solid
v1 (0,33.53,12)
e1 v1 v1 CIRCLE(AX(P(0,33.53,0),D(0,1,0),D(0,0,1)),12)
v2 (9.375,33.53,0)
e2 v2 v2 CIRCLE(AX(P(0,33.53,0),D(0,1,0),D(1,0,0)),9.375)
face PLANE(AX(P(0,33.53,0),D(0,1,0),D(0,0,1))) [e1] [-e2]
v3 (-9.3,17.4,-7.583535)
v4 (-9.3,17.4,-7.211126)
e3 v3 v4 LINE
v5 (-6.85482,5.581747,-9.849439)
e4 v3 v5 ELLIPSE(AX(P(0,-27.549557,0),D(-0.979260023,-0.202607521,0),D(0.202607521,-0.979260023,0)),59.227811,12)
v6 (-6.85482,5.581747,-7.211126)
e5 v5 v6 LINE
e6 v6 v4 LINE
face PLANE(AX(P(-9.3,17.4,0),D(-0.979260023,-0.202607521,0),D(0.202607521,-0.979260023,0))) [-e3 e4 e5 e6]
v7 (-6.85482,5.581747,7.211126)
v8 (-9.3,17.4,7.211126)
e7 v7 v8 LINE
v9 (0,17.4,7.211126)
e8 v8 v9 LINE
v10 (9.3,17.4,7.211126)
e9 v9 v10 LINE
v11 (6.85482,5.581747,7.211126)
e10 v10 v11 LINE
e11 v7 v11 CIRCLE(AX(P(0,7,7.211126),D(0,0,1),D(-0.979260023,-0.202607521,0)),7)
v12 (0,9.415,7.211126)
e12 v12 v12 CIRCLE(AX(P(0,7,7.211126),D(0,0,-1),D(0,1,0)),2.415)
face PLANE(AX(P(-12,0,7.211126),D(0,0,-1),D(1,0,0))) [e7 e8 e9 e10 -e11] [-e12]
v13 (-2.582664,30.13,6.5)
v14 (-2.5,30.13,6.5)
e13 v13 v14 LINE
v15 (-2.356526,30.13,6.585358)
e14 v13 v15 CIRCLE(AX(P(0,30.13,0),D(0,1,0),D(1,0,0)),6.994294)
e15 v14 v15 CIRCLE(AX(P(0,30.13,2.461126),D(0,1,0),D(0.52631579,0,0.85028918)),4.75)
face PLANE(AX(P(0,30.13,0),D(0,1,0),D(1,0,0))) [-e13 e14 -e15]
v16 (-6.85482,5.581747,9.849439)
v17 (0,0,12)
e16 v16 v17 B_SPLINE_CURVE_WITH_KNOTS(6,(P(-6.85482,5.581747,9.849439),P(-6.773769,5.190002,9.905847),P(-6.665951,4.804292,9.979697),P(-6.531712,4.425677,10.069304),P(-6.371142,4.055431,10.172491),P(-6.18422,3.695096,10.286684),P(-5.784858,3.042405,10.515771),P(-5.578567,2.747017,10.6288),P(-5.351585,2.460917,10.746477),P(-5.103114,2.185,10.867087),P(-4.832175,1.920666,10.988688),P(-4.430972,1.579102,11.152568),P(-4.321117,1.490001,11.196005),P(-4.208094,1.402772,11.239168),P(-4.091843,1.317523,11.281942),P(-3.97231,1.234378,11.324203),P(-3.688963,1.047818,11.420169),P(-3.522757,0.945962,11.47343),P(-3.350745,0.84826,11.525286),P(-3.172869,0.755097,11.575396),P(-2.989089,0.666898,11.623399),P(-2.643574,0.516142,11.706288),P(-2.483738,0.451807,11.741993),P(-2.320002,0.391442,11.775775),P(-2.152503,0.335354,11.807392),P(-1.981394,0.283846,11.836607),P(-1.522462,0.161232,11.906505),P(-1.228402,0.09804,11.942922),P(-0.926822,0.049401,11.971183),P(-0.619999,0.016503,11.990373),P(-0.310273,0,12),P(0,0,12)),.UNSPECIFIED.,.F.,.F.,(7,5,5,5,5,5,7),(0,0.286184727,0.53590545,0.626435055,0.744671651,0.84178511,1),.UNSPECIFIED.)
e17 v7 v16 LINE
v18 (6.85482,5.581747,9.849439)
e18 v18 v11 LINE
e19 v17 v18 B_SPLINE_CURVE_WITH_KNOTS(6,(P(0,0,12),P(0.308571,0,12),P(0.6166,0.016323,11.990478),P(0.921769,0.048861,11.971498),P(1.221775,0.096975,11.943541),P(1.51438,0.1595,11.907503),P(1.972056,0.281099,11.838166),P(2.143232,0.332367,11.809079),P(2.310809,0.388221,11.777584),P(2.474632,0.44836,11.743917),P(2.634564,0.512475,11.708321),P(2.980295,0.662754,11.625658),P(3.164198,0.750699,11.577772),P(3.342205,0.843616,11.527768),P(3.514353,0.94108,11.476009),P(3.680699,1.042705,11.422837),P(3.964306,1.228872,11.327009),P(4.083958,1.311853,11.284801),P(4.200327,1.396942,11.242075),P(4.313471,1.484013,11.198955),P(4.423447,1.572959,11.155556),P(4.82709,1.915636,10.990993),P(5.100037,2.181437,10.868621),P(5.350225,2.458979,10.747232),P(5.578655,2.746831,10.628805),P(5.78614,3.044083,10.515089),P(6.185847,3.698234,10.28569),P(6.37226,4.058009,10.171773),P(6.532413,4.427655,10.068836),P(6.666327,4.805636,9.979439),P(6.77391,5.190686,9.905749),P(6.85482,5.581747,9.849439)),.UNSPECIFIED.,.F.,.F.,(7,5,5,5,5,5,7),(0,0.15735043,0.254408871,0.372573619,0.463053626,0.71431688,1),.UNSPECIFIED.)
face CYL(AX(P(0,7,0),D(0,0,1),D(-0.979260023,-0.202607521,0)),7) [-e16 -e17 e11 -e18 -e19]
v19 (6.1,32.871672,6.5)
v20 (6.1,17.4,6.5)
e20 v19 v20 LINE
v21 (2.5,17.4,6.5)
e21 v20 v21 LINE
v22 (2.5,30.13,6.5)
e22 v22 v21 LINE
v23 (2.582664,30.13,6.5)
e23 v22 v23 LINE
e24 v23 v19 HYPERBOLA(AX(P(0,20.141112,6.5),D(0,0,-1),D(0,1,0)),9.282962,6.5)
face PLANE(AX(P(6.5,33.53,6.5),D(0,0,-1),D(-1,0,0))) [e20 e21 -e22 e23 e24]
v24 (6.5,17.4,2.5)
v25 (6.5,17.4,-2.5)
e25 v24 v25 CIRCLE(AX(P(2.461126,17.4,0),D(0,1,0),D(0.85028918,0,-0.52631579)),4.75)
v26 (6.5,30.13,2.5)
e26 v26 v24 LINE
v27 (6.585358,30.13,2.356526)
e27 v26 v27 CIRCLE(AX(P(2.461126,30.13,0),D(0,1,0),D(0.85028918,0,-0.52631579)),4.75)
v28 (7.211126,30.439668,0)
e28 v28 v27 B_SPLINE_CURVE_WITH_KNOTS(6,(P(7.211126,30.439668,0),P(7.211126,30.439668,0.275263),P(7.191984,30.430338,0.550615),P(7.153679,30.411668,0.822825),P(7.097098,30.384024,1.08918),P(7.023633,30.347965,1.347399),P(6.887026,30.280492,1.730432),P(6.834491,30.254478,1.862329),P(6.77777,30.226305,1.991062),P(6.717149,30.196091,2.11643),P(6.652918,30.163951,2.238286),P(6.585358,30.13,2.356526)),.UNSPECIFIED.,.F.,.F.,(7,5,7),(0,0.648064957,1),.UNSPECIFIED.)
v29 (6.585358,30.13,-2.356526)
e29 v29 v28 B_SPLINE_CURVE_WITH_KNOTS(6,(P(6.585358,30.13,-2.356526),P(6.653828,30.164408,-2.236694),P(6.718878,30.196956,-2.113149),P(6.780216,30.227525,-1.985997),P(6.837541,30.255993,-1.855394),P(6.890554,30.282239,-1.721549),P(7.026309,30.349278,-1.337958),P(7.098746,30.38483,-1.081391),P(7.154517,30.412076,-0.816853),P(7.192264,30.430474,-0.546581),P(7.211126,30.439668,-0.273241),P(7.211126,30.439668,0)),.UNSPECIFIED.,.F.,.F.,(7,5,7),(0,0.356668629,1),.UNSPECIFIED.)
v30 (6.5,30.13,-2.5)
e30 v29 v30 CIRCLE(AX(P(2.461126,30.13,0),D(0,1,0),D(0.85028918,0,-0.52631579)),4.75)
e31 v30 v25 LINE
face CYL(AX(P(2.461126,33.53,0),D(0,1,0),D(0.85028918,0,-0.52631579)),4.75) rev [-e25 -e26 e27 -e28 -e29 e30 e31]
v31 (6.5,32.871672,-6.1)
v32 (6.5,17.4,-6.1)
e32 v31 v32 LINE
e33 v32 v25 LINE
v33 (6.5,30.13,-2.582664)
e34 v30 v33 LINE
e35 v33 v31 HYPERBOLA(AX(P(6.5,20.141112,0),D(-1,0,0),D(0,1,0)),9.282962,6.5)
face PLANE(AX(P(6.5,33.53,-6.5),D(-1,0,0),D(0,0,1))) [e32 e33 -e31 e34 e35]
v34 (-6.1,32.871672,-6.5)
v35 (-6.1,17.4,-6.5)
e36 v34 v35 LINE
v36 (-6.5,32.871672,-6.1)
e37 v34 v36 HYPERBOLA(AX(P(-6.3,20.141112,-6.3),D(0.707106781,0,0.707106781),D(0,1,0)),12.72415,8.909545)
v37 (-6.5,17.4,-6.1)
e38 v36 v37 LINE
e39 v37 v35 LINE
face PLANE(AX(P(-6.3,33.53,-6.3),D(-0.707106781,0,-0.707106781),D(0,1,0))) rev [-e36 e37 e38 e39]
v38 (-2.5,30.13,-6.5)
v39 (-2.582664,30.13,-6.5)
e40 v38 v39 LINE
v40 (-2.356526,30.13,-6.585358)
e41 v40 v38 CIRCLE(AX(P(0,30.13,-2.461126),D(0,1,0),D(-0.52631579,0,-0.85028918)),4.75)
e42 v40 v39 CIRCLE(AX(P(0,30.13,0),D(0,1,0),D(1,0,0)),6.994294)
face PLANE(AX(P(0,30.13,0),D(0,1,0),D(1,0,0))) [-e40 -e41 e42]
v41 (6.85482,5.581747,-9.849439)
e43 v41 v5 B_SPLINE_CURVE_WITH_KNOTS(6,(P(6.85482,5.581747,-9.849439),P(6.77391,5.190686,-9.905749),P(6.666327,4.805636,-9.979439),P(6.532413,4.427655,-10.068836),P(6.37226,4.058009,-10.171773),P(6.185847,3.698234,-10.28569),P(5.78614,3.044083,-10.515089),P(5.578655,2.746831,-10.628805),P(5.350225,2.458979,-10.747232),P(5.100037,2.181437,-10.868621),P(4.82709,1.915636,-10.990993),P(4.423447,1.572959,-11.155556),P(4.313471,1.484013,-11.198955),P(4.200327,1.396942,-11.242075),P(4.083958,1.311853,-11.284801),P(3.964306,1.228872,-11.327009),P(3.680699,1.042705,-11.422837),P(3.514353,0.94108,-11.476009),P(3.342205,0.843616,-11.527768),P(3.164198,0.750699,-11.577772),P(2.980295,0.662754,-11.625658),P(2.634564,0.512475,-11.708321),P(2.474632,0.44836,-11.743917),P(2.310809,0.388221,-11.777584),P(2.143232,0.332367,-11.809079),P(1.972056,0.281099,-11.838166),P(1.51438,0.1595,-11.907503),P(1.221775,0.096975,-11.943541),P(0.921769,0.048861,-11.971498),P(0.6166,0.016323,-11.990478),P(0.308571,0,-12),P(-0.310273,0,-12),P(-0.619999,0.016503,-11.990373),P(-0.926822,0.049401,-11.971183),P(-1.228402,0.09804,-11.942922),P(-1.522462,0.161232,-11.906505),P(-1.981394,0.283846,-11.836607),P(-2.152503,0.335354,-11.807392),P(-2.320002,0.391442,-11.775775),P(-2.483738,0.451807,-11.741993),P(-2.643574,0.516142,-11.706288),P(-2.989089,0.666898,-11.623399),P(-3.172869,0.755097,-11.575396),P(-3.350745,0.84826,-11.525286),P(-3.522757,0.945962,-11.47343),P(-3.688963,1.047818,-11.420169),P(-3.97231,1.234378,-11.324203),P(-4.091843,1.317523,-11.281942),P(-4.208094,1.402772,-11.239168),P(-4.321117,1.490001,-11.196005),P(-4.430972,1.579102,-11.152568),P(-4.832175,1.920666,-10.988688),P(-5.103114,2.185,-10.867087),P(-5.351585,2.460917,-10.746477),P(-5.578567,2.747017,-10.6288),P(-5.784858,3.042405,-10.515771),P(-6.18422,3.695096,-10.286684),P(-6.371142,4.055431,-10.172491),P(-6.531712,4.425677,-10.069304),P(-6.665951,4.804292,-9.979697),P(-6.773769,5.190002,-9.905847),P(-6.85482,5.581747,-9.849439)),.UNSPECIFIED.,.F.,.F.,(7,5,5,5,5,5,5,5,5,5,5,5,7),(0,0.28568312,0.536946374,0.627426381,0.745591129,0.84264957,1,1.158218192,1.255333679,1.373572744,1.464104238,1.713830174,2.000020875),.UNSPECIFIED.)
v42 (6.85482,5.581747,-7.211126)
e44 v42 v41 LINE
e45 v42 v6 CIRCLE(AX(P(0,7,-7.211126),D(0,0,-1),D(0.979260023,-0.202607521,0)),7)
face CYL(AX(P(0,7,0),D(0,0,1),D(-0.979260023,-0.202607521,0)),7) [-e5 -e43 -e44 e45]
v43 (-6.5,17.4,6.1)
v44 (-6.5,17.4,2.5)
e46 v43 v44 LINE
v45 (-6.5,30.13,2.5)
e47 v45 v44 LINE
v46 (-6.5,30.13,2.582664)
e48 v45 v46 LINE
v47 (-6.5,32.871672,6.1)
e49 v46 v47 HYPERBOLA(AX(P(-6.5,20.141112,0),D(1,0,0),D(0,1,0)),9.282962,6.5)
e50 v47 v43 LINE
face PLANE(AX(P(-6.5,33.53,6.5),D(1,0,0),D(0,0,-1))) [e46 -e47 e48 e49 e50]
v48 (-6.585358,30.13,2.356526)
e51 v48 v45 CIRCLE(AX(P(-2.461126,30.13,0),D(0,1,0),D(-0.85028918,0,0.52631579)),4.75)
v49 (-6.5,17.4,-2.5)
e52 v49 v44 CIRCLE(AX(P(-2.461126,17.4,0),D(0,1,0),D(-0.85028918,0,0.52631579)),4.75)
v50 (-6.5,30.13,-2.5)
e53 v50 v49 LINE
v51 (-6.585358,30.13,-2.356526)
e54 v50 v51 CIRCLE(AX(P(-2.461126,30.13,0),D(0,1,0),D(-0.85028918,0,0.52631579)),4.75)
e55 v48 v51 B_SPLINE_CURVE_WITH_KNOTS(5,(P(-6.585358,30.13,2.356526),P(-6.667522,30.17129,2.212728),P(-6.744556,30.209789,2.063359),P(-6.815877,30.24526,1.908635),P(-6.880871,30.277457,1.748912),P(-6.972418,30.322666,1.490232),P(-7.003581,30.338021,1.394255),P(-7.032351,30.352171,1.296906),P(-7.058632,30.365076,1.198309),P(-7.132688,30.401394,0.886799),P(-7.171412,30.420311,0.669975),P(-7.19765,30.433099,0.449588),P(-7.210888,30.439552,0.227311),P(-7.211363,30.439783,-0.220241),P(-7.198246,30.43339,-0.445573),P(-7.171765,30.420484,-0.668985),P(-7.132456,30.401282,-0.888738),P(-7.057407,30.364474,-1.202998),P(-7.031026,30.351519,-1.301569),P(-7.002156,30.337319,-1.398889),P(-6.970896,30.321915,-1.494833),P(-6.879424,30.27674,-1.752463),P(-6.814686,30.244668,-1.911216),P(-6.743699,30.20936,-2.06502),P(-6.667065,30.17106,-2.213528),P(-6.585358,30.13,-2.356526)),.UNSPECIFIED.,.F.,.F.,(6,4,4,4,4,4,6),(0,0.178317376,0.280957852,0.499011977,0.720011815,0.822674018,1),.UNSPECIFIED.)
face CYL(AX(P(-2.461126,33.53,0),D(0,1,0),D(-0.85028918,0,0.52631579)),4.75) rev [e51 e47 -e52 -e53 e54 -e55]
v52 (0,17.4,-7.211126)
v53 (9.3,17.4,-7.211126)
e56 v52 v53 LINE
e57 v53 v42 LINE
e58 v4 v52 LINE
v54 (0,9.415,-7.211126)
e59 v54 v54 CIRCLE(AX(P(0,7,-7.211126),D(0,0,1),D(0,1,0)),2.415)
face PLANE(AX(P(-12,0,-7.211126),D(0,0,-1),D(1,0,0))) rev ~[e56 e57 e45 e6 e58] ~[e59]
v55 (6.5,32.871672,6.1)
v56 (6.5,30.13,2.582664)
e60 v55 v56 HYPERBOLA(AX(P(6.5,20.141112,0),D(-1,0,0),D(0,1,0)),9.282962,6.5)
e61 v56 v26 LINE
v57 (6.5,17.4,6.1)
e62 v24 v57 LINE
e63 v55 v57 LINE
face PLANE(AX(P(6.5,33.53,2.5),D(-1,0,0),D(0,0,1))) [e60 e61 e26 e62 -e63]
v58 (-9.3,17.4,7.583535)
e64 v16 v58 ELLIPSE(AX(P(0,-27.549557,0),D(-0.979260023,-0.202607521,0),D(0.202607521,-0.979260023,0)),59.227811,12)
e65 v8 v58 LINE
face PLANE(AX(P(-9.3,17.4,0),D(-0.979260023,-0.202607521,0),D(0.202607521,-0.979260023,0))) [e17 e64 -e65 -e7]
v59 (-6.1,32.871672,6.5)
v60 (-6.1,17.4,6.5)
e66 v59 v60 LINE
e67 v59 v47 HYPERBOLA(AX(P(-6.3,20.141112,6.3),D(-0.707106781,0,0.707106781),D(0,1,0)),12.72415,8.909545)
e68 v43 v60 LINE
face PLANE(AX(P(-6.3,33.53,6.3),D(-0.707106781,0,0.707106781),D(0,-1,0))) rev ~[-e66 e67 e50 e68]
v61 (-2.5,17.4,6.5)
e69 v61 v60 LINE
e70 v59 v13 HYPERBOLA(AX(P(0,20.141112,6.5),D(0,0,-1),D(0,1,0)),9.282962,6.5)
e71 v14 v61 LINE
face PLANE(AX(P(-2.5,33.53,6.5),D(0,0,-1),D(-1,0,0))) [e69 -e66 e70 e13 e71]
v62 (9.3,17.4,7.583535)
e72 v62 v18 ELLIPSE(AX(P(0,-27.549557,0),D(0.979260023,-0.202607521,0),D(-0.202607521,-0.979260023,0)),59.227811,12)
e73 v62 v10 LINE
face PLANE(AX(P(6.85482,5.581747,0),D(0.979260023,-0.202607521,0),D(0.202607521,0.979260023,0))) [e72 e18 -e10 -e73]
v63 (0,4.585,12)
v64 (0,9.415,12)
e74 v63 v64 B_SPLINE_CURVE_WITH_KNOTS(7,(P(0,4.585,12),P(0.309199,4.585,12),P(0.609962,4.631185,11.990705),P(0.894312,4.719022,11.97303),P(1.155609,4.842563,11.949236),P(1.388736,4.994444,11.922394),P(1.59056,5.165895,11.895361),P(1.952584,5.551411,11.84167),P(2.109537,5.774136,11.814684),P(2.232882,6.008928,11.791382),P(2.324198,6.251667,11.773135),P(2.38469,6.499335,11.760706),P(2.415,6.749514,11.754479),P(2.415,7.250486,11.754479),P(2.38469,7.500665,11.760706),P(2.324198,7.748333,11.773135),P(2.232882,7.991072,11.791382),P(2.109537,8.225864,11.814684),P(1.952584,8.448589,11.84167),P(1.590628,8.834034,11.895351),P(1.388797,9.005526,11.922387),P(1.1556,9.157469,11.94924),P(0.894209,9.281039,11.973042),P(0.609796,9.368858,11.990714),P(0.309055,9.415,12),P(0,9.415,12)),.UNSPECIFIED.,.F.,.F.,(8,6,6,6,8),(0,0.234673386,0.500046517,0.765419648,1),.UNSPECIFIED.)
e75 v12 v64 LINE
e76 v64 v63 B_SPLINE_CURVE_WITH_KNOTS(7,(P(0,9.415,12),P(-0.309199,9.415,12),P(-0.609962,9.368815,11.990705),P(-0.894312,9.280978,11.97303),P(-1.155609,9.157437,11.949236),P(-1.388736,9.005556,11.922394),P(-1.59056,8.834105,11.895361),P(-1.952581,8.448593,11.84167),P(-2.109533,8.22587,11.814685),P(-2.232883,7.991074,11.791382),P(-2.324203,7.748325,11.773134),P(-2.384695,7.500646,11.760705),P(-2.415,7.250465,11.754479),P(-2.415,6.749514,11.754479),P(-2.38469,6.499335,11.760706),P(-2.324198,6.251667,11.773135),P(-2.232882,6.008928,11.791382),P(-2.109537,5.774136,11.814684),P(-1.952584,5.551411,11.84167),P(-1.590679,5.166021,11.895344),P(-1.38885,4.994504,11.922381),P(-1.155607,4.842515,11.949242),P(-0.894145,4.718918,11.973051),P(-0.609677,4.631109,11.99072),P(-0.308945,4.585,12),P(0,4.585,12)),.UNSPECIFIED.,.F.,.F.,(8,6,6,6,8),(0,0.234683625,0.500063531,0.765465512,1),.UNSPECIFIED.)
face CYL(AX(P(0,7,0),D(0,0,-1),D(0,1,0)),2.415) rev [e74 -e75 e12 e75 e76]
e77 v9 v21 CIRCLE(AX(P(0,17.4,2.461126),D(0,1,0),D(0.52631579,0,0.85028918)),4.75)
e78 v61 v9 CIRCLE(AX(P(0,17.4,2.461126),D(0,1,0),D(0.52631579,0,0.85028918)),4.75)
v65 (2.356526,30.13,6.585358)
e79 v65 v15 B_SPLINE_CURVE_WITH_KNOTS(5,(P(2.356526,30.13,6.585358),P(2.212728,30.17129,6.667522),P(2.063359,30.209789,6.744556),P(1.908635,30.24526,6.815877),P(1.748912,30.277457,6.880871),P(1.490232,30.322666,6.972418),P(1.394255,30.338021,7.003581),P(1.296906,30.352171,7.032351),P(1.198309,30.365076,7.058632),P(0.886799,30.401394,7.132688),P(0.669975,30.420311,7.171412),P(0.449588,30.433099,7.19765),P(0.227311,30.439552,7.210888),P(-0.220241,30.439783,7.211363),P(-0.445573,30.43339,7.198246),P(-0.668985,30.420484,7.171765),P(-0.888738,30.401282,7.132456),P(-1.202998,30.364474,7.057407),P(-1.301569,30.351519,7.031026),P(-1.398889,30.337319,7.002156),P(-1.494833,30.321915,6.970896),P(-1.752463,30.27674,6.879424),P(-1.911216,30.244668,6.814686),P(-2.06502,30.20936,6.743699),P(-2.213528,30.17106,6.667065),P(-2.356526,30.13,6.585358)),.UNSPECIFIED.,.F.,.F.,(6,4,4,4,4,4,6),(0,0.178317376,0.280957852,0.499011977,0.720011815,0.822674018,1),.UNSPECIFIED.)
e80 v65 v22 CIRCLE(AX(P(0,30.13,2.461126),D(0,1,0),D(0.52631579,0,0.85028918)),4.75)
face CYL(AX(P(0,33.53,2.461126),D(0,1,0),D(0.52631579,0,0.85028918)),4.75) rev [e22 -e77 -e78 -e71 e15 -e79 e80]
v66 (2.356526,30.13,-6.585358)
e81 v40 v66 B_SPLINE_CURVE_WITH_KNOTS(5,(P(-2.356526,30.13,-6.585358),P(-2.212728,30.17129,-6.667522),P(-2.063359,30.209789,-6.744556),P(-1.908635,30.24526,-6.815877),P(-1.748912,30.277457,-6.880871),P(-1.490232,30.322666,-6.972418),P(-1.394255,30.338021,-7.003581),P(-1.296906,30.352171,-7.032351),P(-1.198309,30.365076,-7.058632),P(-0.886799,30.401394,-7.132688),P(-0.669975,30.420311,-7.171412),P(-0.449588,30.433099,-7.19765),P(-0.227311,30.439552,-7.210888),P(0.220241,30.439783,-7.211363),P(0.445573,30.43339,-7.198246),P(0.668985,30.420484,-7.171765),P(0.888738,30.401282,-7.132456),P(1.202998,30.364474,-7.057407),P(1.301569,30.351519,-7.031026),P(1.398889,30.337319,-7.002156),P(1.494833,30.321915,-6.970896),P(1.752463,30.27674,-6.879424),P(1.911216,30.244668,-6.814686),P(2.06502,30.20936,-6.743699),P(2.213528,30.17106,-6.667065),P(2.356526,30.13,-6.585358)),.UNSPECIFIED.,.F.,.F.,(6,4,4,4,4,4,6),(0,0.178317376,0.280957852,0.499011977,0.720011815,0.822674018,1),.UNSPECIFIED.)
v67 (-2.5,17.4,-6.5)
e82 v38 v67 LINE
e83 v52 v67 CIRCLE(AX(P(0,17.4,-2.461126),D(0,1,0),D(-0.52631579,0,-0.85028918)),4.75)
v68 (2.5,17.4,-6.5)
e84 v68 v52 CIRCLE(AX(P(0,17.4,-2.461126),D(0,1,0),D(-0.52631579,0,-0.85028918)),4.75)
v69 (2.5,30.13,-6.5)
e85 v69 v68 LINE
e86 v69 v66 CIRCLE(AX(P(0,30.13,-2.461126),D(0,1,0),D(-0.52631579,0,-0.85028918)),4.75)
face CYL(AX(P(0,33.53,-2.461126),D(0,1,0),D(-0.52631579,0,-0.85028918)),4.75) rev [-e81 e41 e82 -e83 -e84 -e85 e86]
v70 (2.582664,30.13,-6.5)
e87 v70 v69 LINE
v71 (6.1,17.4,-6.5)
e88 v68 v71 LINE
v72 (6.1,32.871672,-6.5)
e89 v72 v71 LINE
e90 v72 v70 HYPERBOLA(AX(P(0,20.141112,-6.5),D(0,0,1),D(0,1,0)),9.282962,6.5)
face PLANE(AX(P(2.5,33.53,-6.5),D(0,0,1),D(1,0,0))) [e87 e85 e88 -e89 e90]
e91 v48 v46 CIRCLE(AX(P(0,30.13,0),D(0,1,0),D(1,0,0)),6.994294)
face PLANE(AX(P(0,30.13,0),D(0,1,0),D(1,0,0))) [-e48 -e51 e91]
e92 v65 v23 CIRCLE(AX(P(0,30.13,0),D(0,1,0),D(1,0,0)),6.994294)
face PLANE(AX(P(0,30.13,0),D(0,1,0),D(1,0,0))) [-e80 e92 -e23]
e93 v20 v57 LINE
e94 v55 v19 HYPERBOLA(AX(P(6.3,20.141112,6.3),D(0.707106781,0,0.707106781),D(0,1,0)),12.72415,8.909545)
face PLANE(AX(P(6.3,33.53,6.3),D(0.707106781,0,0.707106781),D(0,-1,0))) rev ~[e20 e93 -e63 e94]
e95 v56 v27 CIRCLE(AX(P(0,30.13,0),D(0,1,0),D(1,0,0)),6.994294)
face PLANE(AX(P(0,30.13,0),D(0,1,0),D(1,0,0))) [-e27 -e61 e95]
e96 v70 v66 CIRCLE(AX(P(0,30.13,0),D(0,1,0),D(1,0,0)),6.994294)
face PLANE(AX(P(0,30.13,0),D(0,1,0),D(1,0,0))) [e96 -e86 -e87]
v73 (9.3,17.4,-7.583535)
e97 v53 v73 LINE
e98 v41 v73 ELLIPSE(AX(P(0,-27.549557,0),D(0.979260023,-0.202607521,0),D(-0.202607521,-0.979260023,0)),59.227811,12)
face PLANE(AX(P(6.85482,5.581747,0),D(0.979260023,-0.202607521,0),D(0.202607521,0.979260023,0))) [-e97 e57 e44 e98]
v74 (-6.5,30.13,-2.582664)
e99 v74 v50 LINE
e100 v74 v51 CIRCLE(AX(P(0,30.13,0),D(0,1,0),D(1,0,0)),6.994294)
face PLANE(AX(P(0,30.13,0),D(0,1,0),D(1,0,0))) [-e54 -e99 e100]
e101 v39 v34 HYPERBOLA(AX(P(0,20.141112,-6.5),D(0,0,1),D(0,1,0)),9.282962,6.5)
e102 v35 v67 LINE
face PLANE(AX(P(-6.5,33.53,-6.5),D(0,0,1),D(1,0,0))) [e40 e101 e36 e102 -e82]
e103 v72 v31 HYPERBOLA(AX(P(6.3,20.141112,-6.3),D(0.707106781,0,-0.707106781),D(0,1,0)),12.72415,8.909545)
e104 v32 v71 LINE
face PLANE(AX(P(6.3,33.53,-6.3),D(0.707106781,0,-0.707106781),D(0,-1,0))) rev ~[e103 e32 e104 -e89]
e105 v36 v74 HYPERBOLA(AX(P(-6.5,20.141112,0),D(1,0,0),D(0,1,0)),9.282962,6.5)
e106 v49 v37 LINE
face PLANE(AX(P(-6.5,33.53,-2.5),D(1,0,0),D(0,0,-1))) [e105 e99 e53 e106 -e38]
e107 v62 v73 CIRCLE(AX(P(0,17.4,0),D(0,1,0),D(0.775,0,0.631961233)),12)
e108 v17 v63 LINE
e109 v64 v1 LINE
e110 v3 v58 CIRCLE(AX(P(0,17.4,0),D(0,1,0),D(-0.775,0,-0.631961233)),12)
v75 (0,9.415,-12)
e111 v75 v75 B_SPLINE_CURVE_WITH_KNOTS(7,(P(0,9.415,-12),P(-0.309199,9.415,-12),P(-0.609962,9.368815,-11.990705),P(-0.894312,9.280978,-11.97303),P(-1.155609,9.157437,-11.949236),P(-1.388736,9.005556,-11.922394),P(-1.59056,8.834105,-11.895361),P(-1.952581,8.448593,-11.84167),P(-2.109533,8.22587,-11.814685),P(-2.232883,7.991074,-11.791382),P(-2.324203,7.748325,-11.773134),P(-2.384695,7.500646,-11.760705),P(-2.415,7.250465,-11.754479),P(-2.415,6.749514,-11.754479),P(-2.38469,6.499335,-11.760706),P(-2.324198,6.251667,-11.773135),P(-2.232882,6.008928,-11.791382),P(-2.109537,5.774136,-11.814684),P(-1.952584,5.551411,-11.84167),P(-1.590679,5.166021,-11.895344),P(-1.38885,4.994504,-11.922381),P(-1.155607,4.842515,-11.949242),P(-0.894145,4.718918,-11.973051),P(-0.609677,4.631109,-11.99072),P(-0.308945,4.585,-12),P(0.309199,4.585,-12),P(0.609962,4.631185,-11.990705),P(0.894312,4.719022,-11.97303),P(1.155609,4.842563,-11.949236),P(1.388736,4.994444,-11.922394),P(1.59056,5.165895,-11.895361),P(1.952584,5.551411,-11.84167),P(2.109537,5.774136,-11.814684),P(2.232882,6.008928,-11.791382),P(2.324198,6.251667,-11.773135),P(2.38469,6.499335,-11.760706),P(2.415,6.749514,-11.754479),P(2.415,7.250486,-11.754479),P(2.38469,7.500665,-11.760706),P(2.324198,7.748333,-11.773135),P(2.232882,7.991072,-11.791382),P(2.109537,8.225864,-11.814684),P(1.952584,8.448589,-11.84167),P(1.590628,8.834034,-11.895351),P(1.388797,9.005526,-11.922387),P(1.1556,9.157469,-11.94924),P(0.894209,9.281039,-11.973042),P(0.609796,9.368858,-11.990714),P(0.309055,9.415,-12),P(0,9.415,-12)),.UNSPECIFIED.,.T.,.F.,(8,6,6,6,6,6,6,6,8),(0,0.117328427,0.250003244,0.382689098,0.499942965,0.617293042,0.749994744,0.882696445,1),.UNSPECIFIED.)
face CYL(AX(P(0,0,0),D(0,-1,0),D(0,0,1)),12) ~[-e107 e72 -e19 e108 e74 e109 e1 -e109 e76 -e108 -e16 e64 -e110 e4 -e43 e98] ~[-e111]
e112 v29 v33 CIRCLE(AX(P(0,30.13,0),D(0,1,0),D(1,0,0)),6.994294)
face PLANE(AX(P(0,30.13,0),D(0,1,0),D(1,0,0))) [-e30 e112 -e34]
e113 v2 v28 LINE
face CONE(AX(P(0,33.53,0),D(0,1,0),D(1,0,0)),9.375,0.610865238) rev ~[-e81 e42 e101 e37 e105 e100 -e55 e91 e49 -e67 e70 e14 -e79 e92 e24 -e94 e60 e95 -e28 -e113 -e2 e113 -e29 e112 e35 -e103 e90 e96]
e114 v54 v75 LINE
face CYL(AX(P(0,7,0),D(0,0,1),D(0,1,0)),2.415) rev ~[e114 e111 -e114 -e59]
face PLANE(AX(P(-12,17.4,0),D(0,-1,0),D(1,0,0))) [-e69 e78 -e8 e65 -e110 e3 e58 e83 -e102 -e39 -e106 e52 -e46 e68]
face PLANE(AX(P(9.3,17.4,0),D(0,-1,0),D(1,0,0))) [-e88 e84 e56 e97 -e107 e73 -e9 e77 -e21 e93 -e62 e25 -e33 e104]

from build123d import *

# Parameters (mm, degrees)
SKETCH1_R           = 12
BOSS_EXTRUDE1_DEPTH = 33.53
CUT_EXTRUDE1_DEPTH  = 19.6
CHAMFER1_SIZE       = 0.4
SKETCH3_R           = 9.375
CUT_EXTRUDE2_DEPTH  = 3.4
CUT_EXTRUDE2_DRAFT  = -35
SKETCH4_W           = 24
SKETCH4_H           = 14.42225279
CUT_EXTRUDE3_DEPTH  = 17.4
SKETCH5_R           = 2.415
CUT_EXTRUDE4_DEPTH  = 33.7


with BuildPart() as part:
    # Sketch1 → Boss-Extrude1 (new body)
    with BuildSketch(Plane(origin=(0, 0, 0), x_dir=(1, 0, 0), z_dir=(0, 1, 0))):
        with Locations(Location((0, 0, 0), (0, 0, 270))):
            Circle(SKETCH1_R)
    extrude(amount=BOSS_EXTRUDE1_DEPTH)

    # Sketch2 → Cut-Extrude1 (cut)
    with BuildSketch(Plane(origin=(0, 33.53, 0), x_dir=(1, 0, 0), z_dir=(0, 1, 0))):
        with BuildLine():
            Line((-6.5, 6.5), (-2.5, 6.5))
            ThreePointArc((-2.5, 6.5), (0, 7.211126395), (2.5, 6.5))
            Line((2.5, 6.5), (6.5, 6.5))
            Line((6.5, 6.5), (6.5, 2.5))
            ThreePointArc((6.5, 2.5), (7.211126395, 0), (6.5, -2.5))
            Line((6.5, -2.5), (6.5, -6.5))
            Line((6.5, -6.5), (2.5, -6.5))
            ThreePointArc((2.5, -6.5), (0, -7.211126395), (-2.5, -6.5))
            Line((-2.5, -6.5), (-6.5, -6.5))
            Line((-6.5, -6.5), (-6.5, -2.5))
            ThreePointArc((-6.5, -2.5), (-7.211126395, 0), (-6.5, 2.5))
            Line((-6.5, 2.5), (-6.5, 6.5))
        make_face()
    extrude(amount=-CUT_EXTRUDE1_DEPTH, mode=Mode.SUBTRACT)

    # Chamfer1
    chamfer1_edges = [part.edges().sort_by_distance(p)[0] for p in [
        (-6.5, 23.73, -6.5),
        (6.5, 23.73, -6.5),
        (6.5, 23.73, 6.5),
        (-6.5, 23.73, 6.5),
    ]]
    chamfer(chamfer1_edges, length=CHAMFER1_SIZE)


with BuildPart() as cut_extrude2_tool:
    # Sketch3 → Cut-Extrude2 (with draft: the straight prism first)
    with BuildSketch(Plane(origin=(0, 33.53, 0), x_dir=(1, 0, 0), z_dir=(0, 1, 0))):
        Circle(SKETCH3_R)
    extrude(amount=-CUT_EXTRUDE2_DEPTH)
    # Cut-Extrude2: the draft: its side faces are tilted about the plane it starts from
    cut_extrude2_sides = [cut_extrude2_tool.faces().sort_by_distance(p)[0] for p in [
        (-9.375, 31.83, 0),
    ]]
    draft(cut_extrude2_sides, Plane(origin=(0, 33.53, 0), x_dir=(1, 0, 0), z_dir=(0, 1, 0)), CUT_EXTRUDE2_DRAFT)


with BuildPart() as part_1:
    add(part.part)

    # Cut-Extrude2: cut by cut_extrude2_tool
    add(cut_extrude2_tool.part, mode=Mode.SUBTRACT)

    # Sketch4 → Cut-Extrude3 (cut)
    with BuildSketch(Plane.XZ):
        Rectangle(SKETCH4_W, SKETCH4_H)
    extrude(amount=-CUT_EXTRUDE3_DEPTH, mode=Mode.SUBTRACT)

    # Sketch5 → Cut-Extrude4 (cut, symmetric)
    with BuildSketch(Plane.XY):
        with Locations(Location((0, 7, 0), (0, 0, 90))):
            Circle(SKETCH5_R)
        with BuildLine():
            ThreePointArc((-6.854820161, 5.581747356), (0, 0), (6.854820161, 5.581747356))
            Line((6.854820161, 5.581747356), (9.3, 17.4))
            Line((9.3, 17.4), (12, 17.4))
            Line((12, 17.4), (12, -3.192277431))
            Line((12, -3.192277431), (-12, -3.192277431))
            Line((-12, -3.192277431), (-12, 17.4))
            Line((-12, 17.4), (-9.3, 17.4))
            Line((-9.3, 17.4), (-6.854820161, 5.581747356))
        make_face()
    extrude(amount=CUT_EXTRUDE4_DEPTH, both=True, mode=Mode.SUBTRACT)


solid = part_1.part
